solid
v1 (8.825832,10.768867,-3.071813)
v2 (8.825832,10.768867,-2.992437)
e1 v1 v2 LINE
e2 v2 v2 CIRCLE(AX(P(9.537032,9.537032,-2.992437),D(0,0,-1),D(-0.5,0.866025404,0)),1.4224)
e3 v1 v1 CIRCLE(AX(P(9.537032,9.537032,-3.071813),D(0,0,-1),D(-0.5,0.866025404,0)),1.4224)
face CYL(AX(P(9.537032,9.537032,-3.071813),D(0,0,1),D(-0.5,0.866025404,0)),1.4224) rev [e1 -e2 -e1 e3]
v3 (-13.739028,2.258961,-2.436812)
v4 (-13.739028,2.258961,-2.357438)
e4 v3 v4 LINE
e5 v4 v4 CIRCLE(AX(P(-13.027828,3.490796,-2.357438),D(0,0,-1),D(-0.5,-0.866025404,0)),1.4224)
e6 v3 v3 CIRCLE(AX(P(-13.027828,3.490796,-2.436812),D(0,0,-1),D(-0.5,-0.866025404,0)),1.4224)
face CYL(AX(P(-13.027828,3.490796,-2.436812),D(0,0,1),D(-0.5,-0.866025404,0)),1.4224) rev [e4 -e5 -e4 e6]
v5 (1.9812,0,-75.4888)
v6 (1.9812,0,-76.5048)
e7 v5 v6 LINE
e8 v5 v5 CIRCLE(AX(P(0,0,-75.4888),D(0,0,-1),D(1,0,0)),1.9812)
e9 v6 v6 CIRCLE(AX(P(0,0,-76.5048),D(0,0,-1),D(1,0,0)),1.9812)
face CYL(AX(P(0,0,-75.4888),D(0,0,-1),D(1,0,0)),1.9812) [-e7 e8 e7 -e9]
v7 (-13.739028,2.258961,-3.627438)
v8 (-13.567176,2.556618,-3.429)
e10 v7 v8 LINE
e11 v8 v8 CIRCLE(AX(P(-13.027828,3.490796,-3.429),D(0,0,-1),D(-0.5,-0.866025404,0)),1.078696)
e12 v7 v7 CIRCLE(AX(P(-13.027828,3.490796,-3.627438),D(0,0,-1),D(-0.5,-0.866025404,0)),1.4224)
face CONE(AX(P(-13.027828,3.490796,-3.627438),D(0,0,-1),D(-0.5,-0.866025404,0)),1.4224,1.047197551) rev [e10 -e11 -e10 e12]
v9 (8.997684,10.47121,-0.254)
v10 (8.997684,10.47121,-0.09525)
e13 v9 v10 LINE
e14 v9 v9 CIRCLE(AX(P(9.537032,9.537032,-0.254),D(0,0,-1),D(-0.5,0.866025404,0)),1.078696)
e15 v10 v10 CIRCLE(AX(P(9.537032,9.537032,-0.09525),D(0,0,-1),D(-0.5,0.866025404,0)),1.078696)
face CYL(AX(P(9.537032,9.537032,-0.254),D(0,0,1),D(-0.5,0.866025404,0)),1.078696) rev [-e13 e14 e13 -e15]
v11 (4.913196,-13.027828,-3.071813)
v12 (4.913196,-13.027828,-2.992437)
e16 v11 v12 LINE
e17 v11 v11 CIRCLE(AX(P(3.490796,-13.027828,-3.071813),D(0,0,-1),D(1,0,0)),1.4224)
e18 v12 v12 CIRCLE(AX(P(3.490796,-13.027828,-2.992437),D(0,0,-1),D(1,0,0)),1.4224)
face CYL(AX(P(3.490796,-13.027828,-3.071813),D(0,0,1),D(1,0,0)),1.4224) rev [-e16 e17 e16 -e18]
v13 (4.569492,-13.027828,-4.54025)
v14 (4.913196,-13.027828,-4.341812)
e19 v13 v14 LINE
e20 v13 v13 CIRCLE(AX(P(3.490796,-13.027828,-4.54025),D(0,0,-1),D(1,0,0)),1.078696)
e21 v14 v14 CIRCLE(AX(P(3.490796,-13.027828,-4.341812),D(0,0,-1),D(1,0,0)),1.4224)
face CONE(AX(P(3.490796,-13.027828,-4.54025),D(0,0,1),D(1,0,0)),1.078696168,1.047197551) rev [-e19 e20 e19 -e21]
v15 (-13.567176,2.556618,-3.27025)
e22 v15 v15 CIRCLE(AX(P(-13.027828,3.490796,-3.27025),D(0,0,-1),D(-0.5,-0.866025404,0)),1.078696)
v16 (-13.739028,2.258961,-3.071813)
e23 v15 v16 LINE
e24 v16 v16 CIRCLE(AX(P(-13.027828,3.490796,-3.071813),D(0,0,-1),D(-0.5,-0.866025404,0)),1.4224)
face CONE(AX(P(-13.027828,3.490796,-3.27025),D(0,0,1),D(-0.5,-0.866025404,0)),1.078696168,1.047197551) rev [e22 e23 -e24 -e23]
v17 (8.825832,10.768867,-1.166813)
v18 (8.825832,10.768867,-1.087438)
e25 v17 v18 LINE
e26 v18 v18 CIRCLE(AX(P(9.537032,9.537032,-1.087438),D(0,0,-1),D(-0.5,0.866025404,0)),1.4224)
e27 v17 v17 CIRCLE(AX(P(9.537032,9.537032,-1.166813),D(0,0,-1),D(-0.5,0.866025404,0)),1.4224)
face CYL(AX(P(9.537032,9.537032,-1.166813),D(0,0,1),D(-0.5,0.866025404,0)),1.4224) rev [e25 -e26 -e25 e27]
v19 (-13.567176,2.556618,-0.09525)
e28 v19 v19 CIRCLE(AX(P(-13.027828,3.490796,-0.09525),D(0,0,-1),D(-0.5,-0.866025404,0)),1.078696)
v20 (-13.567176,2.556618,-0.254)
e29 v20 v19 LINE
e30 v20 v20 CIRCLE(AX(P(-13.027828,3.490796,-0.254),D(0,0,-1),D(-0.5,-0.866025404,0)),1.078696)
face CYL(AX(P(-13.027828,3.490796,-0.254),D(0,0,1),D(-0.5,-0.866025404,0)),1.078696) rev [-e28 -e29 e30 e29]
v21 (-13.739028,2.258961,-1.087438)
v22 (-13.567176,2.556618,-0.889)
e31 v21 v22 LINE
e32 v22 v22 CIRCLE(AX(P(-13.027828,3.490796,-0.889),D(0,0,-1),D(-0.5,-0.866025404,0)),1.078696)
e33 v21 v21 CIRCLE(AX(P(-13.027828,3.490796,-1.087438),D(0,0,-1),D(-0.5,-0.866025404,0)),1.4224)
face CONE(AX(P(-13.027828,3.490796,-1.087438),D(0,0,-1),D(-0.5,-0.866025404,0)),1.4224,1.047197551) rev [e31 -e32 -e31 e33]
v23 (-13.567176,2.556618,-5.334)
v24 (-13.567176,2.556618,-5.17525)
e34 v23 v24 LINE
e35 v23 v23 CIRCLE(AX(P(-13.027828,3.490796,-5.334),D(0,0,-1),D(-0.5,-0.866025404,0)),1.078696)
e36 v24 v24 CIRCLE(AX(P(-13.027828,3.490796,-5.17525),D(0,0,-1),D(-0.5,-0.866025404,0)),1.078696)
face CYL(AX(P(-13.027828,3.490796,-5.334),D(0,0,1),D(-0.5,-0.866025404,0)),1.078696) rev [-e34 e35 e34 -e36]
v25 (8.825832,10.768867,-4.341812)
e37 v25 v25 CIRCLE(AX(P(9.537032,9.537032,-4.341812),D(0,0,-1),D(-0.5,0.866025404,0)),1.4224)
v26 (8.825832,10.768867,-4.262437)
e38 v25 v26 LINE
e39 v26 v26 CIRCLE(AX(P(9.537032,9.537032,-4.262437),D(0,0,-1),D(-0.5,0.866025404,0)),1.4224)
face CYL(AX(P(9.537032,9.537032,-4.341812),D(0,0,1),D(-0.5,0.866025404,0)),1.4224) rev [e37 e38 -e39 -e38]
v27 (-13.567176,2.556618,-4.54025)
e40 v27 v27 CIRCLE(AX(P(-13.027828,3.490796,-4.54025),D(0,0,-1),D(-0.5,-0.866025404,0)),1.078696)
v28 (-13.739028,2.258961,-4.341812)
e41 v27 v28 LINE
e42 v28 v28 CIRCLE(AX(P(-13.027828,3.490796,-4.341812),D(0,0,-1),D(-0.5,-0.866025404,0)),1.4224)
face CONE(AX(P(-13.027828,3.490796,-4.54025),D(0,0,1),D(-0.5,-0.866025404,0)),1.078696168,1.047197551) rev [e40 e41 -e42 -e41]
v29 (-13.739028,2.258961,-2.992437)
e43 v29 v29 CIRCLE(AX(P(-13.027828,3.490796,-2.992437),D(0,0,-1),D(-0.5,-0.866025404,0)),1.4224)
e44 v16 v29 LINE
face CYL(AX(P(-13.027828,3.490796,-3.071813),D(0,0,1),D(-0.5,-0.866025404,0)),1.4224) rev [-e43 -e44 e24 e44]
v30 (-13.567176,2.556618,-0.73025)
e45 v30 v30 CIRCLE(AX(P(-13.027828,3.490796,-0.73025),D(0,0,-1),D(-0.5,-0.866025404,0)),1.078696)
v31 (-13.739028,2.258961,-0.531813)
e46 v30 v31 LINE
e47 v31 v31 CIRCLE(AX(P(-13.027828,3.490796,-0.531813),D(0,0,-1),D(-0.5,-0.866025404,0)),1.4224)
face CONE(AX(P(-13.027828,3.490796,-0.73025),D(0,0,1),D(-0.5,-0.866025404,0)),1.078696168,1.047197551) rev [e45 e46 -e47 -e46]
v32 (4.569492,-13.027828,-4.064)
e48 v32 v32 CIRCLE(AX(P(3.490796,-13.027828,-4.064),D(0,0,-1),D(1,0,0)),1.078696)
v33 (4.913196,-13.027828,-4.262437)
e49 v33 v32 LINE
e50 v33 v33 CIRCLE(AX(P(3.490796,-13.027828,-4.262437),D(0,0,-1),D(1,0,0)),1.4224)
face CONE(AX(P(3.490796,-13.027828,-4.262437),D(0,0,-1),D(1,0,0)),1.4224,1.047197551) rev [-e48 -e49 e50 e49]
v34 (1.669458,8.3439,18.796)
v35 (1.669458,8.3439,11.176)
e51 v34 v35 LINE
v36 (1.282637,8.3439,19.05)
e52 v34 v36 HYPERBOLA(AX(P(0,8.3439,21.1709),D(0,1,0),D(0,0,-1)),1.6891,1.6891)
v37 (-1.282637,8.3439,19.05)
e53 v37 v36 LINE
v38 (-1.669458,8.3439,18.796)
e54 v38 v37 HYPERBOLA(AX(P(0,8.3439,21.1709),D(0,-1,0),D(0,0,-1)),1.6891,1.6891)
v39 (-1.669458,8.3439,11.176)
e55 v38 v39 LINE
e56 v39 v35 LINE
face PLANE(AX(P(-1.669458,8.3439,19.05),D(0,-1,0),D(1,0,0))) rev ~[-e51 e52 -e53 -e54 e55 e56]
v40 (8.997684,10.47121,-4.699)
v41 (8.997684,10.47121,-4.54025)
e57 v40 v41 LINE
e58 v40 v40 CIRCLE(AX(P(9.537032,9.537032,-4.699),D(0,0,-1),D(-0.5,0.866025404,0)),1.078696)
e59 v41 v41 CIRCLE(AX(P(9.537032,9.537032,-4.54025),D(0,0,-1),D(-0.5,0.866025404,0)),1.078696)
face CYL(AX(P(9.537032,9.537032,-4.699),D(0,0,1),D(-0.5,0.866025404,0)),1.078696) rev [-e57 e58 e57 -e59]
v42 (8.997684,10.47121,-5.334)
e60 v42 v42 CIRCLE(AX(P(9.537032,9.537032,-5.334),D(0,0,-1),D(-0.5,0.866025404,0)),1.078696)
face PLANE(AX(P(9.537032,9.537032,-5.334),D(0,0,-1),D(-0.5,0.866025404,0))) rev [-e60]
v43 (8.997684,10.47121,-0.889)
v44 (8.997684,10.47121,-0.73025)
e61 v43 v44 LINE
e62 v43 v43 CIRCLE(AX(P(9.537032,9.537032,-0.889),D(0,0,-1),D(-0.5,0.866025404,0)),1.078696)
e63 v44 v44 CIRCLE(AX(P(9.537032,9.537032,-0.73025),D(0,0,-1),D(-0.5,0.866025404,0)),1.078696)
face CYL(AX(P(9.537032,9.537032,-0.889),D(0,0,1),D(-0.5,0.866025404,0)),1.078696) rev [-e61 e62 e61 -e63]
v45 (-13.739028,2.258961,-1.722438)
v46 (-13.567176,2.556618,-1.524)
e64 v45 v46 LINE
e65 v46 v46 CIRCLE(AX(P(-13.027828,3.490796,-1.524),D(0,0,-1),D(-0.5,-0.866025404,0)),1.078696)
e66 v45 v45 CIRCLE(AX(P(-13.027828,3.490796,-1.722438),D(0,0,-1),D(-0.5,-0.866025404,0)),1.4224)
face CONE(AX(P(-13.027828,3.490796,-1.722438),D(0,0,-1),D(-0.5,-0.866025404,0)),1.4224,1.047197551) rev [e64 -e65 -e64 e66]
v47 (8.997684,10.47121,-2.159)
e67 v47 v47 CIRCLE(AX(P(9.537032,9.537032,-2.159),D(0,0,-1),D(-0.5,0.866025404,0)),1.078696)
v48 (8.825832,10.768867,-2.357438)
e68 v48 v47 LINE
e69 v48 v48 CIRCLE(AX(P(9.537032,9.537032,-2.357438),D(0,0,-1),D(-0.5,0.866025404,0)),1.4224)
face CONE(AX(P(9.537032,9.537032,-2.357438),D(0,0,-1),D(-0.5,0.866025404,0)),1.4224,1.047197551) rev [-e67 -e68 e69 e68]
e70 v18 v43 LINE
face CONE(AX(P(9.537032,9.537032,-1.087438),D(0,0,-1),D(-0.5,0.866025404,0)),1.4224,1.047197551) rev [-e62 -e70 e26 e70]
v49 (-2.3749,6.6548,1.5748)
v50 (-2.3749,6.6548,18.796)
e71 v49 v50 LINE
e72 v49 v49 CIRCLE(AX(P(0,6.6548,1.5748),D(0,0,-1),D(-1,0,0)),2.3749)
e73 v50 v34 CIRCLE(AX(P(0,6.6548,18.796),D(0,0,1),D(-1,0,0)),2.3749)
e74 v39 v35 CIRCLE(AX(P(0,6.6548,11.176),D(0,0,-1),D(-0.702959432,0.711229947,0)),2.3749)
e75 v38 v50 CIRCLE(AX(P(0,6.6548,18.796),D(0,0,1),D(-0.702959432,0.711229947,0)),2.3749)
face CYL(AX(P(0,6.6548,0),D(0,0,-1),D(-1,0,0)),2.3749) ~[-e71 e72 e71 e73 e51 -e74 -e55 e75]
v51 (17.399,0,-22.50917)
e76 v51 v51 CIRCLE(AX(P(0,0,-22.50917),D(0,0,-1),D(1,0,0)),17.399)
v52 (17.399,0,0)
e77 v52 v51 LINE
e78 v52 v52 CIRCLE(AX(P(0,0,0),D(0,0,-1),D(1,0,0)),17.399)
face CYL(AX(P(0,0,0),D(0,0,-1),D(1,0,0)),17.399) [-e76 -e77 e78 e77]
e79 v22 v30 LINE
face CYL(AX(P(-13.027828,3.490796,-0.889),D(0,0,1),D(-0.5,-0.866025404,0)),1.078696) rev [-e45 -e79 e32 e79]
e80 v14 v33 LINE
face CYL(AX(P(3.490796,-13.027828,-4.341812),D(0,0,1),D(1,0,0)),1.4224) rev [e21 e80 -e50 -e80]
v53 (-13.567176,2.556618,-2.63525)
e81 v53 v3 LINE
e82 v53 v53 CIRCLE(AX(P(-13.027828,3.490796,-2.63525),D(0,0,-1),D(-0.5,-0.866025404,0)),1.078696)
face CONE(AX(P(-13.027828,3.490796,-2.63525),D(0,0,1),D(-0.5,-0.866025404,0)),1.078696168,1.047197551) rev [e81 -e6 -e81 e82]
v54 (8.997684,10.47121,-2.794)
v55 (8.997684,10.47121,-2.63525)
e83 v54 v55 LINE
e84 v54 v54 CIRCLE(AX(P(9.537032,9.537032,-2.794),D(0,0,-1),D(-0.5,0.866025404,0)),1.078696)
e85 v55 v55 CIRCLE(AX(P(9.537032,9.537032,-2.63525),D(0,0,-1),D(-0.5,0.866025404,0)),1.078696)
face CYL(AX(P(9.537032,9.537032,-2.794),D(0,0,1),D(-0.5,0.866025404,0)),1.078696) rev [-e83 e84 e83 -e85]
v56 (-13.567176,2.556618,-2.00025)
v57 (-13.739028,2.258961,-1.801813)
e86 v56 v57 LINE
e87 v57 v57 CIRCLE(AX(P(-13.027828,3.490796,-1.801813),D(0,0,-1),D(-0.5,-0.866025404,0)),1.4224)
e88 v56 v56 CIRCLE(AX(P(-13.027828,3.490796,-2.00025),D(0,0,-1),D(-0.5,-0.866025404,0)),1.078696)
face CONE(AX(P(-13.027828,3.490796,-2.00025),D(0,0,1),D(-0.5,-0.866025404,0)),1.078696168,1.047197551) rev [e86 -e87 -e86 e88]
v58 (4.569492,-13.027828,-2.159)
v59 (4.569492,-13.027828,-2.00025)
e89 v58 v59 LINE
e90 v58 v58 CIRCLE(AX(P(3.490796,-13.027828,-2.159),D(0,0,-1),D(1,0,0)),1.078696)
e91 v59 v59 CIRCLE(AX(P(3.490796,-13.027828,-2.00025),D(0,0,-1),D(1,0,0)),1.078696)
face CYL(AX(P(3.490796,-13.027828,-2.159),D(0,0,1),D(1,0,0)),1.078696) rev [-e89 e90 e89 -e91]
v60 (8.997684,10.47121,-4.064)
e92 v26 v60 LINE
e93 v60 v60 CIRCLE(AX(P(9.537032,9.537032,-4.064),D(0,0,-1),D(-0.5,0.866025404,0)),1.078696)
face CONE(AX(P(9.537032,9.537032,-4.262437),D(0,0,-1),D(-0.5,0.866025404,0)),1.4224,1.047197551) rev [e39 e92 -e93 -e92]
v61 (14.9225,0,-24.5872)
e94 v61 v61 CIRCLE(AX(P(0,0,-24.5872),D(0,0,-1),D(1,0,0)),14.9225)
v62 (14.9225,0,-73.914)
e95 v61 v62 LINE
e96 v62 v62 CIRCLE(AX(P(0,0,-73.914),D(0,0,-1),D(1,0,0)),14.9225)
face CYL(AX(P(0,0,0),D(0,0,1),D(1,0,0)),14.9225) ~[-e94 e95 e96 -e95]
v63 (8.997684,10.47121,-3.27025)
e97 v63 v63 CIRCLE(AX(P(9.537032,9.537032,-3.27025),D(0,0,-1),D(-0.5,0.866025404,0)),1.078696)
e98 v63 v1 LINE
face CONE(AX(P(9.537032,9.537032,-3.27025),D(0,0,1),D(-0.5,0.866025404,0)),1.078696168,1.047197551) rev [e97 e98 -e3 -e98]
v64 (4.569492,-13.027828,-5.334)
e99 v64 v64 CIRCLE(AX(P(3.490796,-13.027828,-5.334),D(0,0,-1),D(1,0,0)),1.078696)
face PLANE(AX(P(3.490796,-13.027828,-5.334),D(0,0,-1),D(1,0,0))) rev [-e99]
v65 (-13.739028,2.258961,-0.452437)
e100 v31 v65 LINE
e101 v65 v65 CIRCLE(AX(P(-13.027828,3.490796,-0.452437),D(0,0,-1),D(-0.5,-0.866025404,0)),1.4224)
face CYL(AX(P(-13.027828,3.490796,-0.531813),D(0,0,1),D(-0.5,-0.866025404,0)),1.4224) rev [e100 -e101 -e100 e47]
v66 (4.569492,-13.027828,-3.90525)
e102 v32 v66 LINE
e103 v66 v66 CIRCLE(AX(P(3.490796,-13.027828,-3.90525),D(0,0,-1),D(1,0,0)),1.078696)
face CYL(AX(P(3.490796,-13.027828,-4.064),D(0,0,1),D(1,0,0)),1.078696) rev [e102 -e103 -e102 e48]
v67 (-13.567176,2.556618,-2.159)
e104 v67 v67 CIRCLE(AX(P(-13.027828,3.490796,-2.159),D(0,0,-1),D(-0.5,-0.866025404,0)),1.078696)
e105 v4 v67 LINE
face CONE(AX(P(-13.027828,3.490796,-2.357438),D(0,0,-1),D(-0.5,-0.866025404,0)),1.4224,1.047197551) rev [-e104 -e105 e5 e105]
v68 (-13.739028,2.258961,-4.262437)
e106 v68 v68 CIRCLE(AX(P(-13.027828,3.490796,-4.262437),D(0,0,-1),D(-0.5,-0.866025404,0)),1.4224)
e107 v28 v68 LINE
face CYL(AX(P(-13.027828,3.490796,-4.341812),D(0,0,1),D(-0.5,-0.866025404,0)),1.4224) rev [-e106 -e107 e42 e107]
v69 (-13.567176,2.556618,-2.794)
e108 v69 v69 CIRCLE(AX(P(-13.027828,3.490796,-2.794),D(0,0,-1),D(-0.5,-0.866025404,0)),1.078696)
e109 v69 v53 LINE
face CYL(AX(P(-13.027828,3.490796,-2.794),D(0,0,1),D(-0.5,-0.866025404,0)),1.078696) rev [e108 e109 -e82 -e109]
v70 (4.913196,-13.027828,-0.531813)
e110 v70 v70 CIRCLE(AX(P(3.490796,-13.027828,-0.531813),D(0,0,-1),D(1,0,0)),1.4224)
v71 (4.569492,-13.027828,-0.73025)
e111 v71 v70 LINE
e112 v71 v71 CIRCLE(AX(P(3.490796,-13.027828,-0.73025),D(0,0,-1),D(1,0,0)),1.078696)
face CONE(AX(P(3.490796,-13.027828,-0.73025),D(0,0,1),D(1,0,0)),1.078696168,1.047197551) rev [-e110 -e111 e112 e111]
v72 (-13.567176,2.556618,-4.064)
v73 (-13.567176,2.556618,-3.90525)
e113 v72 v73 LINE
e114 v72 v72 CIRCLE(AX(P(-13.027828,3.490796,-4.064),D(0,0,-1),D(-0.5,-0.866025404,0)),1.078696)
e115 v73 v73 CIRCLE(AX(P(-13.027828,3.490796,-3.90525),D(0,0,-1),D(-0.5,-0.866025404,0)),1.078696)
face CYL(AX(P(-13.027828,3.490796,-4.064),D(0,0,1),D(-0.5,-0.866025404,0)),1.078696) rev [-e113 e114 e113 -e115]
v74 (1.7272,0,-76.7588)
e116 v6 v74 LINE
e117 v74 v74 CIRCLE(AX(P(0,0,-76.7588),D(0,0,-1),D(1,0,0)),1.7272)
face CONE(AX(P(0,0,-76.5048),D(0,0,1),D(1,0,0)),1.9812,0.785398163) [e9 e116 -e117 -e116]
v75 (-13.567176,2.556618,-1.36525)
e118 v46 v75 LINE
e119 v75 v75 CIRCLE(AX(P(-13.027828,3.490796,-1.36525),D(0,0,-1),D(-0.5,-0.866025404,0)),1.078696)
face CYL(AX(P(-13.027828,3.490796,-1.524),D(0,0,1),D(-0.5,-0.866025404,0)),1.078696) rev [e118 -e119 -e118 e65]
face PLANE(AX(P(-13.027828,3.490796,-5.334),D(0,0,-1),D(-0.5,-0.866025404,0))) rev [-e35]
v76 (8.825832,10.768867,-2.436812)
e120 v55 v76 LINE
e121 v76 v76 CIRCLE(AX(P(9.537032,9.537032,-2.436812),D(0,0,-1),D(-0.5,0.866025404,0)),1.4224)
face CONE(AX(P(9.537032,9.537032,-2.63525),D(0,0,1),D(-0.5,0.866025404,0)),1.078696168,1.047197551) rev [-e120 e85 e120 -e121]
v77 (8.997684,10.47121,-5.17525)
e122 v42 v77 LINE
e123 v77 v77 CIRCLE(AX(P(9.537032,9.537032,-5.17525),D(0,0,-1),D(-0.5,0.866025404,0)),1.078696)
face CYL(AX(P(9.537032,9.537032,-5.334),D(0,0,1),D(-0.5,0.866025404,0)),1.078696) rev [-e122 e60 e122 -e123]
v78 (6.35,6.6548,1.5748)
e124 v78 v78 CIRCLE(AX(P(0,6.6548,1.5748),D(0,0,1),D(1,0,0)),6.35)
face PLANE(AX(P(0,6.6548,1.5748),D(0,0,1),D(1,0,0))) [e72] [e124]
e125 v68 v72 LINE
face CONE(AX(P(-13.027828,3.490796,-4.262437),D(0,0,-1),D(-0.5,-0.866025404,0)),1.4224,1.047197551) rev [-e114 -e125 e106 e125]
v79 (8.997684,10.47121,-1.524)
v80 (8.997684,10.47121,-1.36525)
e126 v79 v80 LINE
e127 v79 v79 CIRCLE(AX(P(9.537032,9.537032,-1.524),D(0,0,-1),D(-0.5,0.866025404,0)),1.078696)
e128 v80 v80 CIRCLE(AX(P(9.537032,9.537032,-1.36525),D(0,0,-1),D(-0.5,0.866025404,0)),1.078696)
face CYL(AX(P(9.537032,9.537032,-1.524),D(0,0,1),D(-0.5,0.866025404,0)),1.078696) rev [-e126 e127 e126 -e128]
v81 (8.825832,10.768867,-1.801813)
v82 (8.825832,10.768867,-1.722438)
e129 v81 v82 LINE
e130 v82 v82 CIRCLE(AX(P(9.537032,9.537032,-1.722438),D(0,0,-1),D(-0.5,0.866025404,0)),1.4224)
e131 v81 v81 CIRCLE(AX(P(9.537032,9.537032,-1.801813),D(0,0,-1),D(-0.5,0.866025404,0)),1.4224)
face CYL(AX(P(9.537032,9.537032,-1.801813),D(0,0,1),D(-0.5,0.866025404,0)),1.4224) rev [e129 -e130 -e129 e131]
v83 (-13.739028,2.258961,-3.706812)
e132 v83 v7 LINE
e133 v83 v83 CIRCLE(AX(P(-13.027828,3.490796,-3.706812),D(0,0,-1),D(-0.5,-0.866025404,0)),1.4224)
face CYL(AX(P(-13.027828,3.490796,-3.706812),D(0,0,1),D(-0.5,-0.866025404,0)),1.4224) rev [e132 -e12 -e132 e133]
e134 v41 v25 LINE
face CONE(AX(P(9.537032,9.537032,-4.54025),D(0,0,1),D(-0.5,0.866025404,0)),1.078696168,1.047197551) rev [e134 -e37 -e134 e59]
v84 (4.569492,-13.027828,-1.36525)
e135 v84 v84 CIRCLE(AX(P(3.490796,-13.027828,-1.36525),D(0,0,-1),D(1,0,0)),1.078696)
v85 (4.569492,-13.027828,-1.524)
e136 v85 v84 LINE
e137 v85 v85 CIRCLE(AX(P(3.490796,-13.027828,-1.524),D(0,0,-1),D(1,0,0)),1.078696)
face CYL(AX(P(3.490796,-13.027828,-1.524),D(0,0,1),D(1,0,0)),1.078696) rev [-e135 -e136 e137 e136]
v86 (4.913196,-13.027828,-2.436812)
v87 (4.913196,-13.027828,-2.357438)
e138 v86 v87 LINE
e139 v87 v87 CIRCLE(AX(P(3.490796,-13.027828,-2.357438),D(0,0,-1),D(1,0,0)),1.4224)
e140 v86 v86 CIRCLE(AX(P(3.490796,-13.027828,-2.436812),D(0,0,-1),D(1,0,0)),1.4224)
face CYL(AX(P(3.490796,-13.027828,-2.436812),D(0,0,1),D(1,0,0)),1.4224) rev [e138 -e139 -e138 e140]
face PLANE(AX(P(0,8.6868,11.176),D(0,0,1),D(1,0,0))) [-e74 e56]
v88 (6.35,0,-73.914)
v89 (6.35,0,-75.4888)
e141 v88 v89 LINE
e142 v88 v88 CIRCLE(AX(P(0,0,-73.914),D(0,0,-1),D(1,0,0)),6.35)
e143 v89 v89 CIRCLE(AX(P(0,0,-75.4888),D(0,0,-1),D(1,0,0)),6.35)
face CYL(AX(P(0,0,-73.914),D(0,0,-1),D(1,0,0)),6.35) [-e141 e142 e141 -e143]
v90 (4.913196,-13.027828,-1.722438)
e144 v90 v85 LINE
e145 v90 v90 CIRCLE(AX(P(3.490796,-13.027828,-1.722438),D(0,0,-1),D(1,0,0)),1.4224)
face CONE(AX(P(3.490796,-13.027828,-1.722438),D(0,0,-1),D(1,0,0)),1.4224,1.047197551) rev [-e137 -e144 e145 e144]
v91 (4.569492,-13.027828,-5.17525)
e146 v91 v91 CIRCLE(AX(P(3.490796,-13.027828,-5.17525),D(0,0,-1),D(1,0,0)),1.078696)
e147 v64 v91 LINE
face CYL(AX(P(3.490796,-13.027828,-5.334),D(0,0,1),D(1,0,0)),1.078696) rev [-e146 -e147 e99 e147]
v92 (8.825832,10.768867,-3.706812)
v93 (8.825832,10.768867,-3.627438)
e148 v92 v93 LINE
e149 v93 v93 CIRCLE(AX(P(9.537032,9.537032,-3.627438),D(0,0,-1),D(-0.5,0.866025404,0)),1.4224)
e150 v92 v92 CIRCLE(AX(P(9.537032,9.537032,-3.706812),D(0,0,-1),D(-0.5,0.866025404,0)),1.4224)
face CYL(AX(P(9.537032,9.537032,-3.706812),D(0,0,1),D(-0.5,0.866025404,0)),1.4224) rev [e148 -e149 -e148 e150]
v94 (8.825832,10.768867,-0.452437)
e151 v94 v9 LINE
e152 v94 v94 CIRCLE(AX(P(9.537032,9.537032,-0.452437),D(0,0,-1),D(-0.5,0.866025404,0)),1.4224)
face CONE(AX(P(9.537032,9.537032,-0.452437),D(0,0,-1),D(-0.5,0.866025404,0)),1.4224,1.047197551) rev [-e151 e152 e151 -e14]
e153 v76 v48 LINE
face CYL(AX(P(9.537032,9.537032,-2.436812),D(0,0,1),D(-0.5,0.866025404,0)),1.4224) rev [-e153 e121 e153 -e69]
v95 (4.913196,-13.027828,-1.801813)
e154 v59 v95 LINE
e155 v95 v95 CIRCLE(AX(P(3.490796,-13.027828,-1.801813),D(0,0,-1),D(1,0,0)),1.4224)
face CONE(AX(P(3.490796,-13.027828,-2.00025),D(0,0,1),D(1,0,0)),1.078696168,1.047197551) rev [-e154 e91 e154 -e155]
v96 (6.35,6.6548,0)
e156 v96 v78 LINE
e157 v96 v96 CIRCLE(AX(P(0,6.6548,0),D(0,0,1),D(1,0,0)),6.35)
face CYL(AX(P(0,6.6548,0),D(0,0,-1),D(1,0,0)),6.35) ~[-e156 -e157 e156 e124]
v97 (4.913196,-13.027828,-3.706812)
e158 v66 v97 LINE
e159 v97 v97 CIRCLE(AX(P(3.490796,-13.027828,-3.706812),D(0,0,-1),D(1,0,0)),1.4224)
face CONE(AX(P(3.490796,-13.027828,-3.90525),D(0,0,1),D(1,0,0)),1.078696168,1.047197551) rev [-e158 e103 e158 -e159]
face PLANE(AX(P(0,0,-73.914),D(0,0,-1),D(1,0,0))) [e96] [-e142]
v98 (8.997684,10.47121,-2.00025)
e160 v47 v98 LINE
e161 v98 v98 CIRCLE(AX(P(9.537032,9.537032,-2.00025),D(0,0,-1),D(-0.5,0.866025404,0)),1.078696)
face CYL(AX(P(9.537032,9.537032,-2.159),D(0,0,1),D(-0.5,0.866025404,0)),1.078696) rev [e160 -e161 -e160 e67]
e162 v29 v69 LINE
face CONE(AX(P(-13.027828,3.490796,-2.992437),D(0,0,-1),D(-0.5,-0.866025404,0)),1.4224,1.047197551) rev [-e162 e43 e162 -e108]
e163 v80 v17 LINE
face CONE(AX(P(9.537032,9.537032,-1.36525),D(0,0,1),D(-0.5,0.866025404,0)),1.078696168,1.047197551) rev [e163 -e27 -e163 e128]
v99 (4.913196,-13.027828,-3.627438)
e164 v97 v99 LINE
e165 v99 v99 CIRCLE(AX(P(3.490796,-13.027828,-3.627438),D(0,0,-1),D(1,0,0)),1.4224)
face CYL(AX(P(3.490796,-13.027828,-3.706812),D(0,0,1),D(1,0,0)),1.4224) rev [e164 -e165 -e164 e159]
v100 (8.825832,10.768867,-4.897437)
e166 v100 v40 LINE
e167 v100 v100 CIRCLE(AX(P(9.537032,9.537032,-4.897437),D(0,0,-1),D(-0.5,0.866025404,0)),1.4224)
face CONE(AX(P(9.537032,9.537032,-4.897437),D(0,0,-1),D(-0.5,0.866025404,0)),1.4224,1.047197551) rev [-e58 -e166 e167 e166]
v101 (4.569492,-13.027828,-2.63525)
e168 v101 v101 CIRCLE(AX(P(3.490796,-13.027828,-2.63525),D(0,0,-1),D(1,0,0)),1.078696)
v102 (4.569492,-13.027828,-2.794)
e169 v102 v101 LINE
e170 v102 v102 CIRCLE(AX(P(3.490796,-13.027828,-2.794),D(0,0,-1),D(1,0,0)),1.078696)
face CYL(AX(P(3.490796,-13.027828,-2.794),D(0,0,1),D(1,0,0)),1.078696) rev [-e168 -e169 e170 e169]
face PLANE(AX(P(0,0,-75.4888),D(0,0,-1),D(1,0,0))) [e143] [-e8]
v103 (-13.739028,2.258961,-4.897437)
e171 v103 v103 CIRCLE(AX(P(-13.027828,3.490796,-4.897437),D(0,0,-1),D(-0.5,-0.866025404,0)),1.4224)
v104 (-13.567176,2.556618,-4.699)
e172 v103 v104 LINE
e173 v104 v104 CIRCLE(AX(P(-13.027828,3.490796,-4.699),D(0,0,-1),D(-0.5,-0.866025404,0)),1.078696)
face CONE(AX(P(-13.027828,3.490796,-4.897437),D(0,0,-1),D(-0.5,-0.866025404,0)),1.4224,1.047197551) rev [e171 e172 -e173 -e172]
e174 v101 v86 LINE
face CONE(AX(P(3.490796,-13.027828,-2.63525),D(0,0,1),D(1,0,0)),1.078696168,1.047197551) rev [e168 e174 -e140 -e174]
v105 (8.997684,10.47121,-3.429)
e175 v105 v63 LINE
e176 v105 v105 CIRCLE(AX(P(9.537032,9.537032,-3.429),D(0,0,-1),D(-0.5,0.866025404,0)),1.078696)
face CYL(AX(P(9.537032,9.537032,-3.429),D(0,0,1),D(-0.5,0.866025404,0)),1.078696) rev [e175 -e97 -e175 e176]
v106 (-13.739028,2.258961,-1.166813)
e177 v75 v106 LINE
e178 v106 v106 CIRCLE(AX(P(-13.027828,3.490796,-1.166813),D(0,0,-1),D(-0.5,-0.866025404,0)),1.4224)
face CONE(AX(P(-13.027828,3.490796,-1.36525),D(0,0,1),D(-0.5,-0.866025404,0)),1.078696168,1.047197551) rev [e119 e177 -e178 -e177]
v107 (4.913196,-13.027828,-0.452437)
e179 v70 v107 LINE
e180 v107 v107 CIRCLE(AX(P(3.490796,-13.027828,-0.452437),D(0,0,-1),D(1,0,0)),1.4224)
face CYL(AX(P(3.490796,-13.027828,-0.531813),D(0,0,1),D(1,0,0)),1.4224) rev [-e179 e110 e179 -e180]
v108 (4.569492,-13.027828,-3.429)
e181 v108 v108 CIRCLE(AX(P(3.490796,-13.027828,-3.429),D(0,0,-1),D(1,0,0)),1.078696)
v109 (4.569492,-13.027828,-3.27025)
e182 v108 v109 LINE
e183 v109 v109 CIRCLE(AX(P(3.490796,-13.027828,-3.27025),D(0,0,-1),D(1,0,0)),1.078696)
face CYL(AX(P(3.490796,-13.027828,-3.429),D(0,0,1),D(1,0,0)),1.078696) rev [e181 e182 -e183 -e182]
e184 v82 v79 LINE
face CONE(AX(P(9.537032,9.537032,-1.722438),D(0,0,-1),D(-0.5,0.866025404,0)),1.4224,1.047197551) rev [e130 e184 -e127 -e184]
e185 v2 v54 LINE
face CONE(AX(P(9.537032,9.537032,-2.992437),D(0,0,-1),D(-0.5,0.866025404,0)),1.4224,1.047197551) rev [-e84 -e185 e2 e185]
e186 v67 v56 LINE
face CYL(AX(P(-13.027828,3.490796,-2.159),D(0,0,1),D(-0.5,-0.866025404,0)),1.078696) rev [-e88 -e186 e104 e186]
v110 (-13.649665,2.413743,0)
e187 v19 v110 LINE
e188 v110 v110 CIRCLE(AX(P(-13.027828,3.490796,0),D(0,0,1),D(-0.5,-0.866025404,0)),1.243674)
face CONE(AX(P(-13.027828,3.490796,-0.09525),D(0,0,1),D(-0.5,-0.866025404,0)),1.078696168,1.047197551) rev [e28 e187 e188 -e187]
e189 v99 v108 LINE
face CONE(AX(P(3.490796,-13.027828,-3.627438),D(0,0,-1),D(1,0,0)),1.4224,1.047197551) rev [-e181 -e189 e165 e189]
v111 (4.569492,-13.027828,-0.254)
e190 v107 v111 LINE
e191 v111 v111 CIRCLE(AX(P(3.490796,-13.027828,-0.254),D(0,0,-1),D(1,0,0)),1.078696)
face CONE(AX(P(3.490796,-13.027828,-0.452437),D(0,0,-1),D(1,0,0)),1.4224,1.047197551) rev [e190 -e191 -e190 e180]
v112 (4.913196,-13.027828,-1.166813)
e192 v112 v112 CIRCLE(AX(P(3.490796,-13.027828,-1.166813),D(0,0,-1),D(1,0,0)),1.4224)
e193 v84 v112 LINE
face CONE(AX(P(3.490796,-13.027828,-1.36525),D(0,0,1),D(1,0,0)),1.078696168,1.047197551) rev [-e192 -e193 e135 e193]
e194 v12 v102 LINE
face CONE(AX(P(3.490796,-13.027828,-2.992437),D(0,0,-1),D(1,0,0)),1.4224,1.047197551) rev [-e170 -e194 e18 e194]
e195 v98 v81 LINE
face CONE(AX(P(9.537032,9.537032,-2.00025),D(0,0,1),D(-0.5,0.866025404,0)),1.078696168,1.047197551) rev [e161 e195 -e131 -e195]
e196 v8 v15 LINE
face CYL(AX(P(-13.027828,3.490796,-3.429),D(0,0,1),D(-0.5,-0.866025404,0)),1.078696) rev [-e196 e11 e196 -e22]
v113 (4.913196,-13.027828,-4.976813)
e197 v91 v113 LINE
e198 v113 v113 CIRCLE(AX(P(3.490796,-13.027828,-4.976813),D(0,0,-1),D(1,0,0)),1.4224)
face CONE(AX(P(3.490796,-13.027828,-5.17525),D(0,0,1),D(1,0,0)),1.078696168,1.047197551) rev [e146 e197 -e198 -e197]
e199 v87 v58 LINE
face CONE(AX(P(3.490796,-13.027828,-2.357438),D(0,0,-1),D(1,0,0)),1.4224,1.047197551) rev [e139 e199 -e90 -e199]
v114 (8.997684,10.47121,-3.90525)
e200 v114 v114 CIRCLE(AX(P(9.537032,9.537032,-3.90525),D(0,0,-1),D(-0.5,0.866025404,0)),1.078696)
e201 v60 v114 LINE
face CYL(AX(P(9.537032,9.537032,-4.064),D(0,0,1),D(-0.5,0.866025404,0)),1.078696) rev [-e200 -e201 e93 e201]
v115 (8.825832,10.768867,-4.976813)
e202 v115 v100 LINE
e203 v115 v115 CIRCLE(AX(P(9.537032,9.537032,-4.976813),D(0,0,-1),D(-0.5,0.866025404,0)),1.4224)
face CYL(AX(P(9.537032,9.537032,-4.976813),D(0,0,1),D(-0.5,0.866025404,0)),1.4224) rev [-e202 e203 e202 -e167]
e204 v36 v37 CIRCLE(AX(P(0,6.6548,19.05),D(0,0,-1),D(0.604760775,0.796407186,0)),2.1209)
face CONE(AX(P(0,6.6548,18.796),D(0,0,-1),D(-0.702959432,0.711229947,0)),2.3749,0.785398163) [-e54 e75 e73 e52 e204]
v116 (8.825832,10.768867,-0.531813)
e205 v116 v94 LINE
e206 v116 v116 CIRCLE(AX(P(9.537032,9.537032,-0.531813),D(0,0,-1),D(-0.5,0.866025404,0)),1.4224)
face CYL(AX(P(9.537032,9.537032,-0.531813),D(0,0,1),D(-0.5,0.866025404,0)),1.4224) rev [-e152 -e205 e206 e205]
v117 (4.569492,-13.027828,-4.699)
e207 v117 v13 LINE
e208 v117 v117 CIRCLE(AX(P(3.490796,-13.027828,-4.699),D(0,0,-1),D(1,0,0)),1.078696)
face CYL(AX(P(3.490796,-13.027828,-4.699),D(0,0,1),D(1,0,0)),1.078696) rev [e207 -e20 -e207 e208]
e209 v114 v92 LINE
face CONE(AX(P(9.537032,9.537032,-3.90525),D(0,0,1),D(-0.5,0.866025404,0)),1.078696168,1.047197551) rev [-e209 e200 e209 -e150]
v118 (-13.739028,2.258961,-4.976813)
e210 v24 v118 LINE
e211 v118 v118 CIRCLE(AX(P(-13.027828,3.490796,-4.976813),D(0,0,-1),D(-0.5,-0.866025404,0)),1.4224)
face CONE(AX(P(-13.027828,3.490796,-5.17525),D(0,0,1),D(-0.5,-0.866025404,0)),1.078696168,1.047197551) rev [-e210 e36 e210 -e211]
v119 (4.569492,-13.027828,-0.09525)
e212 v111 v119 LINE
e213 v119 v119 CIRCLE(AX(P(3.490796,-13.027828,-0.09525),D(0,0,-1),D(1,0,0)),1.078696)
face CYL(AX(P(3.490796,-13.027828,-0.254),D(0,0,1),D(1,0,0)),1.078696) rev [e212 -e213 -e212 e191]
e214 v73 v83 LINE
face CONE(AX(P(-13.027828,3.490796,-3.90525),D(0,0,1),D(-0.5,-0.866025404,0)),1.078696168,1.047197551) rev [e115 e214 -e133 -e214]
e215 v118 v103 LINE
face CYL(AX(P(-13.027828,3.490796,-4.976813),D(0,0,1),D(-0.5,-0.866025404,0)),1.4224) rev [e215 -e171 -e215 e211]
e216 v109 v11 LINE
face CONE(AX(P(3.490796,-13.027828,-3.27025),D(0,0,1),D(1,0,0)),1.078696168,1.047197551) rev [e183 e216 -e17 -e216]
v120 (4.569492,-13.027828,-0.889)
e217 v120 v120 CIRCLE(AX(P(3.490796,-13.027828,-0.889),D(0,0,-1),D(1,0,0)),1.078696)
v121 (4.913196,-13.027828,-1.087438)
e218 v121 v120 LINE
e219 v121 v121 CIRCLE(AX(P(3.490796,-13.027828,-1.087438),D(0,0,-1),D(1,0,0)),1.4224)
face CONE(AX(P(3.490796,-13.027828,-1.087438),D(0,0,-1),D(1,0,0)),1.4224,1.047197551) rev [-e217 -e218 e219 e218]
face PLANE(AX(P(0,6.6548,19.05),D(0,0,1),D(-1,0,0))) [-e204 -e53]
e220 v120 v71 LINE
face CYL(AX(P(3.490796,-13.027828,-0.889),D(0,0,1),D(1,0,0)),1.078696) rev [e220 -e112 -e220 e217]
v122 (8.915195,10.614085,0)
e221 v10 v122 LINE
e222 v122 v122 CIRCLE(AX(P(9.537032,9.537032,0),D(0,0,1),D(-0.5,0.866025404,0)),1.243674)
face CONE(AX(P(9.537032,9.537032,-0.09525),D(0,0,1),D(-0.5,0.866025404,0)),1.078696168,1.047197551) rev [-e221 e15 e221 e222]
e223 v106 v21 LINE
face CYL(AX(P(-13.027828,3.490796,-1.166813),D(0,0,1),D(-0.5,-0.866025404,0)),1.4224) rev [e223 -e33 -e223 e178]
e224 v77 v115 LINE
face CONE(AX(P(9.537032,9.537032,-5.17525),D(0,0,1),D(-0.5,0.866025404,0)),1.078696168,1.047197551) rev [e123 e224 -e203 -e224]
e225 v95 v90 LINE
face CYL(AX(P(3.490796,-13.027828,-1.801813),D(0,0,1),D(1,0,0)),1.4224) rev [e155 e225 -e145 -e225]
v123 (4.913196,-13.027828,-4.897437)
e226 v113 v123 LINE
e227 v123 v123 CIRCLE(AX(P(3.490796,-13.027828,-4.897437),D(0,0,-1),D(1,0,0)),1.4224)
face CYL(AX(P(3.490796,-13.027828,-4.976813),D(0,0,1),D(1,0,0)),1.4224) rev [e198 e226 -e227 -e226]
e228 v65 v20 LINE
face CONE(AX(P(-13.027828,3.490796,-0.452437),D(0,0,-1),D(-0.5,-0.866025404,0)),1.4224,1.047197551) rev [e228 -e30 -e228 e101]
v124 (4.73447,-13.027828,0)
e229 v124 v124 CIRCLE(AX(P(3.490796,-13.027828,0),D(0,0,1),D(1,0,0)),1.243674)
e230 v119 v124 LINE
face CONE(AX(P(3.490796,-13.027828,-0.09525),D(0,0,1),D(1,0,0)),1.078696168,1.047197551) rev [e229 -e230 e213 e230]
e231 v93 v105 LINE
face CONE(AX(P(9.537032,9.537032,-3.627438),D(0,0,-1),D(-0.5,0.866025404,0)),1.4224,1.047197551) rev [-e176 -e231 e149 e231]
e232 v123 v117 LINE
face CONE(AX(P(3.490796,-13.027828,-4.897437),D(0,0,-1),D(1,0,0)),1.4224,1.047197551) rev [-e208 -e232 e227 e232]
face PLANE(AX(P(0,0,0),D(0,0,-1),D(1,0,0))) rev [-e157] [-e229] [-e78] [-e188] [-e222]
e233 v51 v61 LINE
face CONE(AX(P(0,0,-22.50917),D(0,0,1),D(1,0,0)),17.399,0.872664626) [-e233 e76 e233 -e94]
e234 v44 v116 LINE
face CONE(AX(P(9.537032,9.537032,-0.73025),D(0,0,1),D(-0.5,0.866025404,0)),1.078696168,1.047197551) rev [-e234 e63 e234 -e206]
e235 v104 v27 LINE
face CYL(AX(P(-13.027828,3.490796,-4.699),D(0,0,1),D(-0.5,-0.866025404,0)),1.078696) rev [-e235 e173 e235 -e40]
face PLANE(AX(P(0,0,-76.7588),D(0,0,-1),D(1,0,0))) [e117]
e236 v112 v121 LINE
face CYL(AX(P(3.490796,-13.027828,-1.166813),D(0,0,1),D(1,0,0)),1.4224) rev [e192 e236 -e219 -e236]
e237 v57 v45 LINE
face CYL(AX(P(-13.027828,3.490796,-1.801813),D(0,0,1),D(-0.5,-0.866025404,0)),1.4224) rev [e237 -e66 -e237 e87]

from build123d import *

# Parameters (mm, degrees)
SKETCH1_R          = 6.35
EXTRUDE1_DEPTH     = 1.5748
SKETCH2_R          = 14.9225
EXTRUDE2_DEPTH     = 73.914
SKETCH3_R          = 2.3749
EXTRUDE3_DEPTH     = 19.05
CIRPATTERN1_COUNT  = 3
SKETCH14_W         = 3.33891671
SKETCH14_H         = 0.6858
CUT_EXTRUDE3_DEPTH = 7.874
CHAMFER1_SIZE      = 0.254


with BuildPart() as part:
    # Sketch1 → Extrude1 (new body)
    with BuildSketch(Plane.XY):
        with Locations((0, 6.6548)):
            Circle(SKETCH1_R)
    extrude(amount=EXTRUDE1_DEPTH)

    # Sketch2 → Extrude2 (add)
    with BuildSketch(Plane(origin=(0, 0, 0), x_dir=(-1, 0, 0), z_dir=(0, 0, -1))):
        with Locations(Location((0, 0, 0), (0, 0, 180))):
            Circle(SKETCH2_R)
    extrude(amount=EXTRUDE2_DEPTH)

    # Sketch3 → Extrude3 (add)
    with BuildSketch(Plane.XY):
        with Locations(Location((0, 6.6548, 0), (0, 0, 180))):
            Circle(SKETCH3_R)
    extrude(amount=EXTRUDE3_DEPTH)

    # Sketch9 → Revolve1 (revolve)
    with BuildSketch(Plane(origin=(0, 0, 0), x_dir=(0, 0, -1), z_dir=(1, 0, 0)), mode=Mode.PRIVATE) as revolve1_sk:
        Polygon((73.914, 0), (73.914, 6.35), (75.4888, 6.35), (75.4888, 1.9812), (76.7588, 1.9812), (76.7588, 0), align=None)
    revolve(revolve1_sk.sketch.rotate(Axis((0, 0, -51.186992867), (0, 0, -1)), 90), axis=Axis((0, 0, -51.186992867), (0, 0, -1)))

    # Sketch13 → Revolve3 (revolve)
    with BuildSketch(Plane(origin=(0, 0, 0), x_dir=(0, 0, -1), z_dir=(1, 0, 0)), mode=Mode.PRIVATE) as revolve3_sk:
        Polygon((0, 14.9225), (0, 17.399), (22.509169763, 17.399), (24.5872, 14.9225), align=None)
    revolve(revolve3_sk.sketch.rotate(Axis((0, 0, 4.819894785), (0, 0, -1)), 90), axis=Axis((0, 0, 4.819894785), (0, 0, -1)))

    # Sketch7 → Cut-Revolve1 (revolve, cut)
    with BuildSketch(Plane(origin=(0, 0, 0), x_dir=(0, 0, -1), z_dir=(-0.9659258262890681, -0.2588190451025213, 0)), mode=Mode.PRIVATE) as cut_revolve1_sk:
        Polygon((-0.381, 13.4874), (5.334, 13.4874), (5.334, 14.566096168), (5.17525, 14.566096168), (4.9768125, 14.9098), (4.8974375, 14.9098), (4.699, 14.566096168), (4.54025, 14.566096168), (4.3418125, 14.9098), (4.2624375, 14.9098), (4.064, 14.566096168), (3.90525, 14.566096168), (3.7068125, 14.9098), (3.6274375, 14.9098), (3.429, 14.566096168), (3.27025, 14.566096168), (3.0718125, 14.9098), (2.9924375, 14.9098), (2.794, 14.566096168), (2.63525, 14.566096168), (2.4368125, 14.9098), (2.3574375, 14.9098), (2.159, 14.566096168), (2.00025, 14.566096168), (1.8018125, 14.9098), (1.7224375, 14.9098), (1.524, 14.566096168), (1.36525, 14.566096168), (1.1668125, 14.9098), (1.0874375, 14.9098), (0.889, 14.566096168), (0.73025, 14.566096168), (0.5318125, 14.9098), (0.4524375, 14.9098), (0.254, 14.566096168), (0.09525, 14.566096168), (-0.1031875, 14.9098), (-0.1825625, 14.9098), (-0.381, 14.566096168), align=None)
    cut_revolve1 = revolve(cut_revolve1_sk.sketch.rotate(Axis((3.490795989, -13.027827989, 0.218691166), (0, 0, -1)), 285), axis=Axis((3.490795989, -13.027827989, 0.218691166), (0, 0, -1)), mode=Mode.SUBTRACT)

    # CirPattern1: Cut-Revolve1 ×3 about axis
    cirpattern1_axis = Axis((0, 0, 0), (0, 0, 1))
    for i in range(1, CIRPATTERN1_COUNT):
        add(cut_revolve1.rotate(cirpattern1_axis, i * 360 / CIRPATTERN1_COUNT), mode=Mode.SUBTRACT)

    # Sketch14 → Cut-Extrude3 (cut)
    with BuildSketch(Plane.XY.offset(19.05)):
        with Locations((0, 8.6868)):
            Rectangle(SKETCH14_W, SKETCH14_H)
    extrude(amount=-CUT_EXTRUDE3_DEPTH, mode=Mode.SUBTRACT)

    # Chamfer1
    chamfer1_edges = [part.edges().sort_by_distance(p)[0] for p in [
        (0.915246787, 4.463345385, 19.05),
        (-1.9812, 0, -76.7588),
    ]]
    chamfer(chamfer1_edges, length=CHAMFER1_SIZE)


solid = part.part
